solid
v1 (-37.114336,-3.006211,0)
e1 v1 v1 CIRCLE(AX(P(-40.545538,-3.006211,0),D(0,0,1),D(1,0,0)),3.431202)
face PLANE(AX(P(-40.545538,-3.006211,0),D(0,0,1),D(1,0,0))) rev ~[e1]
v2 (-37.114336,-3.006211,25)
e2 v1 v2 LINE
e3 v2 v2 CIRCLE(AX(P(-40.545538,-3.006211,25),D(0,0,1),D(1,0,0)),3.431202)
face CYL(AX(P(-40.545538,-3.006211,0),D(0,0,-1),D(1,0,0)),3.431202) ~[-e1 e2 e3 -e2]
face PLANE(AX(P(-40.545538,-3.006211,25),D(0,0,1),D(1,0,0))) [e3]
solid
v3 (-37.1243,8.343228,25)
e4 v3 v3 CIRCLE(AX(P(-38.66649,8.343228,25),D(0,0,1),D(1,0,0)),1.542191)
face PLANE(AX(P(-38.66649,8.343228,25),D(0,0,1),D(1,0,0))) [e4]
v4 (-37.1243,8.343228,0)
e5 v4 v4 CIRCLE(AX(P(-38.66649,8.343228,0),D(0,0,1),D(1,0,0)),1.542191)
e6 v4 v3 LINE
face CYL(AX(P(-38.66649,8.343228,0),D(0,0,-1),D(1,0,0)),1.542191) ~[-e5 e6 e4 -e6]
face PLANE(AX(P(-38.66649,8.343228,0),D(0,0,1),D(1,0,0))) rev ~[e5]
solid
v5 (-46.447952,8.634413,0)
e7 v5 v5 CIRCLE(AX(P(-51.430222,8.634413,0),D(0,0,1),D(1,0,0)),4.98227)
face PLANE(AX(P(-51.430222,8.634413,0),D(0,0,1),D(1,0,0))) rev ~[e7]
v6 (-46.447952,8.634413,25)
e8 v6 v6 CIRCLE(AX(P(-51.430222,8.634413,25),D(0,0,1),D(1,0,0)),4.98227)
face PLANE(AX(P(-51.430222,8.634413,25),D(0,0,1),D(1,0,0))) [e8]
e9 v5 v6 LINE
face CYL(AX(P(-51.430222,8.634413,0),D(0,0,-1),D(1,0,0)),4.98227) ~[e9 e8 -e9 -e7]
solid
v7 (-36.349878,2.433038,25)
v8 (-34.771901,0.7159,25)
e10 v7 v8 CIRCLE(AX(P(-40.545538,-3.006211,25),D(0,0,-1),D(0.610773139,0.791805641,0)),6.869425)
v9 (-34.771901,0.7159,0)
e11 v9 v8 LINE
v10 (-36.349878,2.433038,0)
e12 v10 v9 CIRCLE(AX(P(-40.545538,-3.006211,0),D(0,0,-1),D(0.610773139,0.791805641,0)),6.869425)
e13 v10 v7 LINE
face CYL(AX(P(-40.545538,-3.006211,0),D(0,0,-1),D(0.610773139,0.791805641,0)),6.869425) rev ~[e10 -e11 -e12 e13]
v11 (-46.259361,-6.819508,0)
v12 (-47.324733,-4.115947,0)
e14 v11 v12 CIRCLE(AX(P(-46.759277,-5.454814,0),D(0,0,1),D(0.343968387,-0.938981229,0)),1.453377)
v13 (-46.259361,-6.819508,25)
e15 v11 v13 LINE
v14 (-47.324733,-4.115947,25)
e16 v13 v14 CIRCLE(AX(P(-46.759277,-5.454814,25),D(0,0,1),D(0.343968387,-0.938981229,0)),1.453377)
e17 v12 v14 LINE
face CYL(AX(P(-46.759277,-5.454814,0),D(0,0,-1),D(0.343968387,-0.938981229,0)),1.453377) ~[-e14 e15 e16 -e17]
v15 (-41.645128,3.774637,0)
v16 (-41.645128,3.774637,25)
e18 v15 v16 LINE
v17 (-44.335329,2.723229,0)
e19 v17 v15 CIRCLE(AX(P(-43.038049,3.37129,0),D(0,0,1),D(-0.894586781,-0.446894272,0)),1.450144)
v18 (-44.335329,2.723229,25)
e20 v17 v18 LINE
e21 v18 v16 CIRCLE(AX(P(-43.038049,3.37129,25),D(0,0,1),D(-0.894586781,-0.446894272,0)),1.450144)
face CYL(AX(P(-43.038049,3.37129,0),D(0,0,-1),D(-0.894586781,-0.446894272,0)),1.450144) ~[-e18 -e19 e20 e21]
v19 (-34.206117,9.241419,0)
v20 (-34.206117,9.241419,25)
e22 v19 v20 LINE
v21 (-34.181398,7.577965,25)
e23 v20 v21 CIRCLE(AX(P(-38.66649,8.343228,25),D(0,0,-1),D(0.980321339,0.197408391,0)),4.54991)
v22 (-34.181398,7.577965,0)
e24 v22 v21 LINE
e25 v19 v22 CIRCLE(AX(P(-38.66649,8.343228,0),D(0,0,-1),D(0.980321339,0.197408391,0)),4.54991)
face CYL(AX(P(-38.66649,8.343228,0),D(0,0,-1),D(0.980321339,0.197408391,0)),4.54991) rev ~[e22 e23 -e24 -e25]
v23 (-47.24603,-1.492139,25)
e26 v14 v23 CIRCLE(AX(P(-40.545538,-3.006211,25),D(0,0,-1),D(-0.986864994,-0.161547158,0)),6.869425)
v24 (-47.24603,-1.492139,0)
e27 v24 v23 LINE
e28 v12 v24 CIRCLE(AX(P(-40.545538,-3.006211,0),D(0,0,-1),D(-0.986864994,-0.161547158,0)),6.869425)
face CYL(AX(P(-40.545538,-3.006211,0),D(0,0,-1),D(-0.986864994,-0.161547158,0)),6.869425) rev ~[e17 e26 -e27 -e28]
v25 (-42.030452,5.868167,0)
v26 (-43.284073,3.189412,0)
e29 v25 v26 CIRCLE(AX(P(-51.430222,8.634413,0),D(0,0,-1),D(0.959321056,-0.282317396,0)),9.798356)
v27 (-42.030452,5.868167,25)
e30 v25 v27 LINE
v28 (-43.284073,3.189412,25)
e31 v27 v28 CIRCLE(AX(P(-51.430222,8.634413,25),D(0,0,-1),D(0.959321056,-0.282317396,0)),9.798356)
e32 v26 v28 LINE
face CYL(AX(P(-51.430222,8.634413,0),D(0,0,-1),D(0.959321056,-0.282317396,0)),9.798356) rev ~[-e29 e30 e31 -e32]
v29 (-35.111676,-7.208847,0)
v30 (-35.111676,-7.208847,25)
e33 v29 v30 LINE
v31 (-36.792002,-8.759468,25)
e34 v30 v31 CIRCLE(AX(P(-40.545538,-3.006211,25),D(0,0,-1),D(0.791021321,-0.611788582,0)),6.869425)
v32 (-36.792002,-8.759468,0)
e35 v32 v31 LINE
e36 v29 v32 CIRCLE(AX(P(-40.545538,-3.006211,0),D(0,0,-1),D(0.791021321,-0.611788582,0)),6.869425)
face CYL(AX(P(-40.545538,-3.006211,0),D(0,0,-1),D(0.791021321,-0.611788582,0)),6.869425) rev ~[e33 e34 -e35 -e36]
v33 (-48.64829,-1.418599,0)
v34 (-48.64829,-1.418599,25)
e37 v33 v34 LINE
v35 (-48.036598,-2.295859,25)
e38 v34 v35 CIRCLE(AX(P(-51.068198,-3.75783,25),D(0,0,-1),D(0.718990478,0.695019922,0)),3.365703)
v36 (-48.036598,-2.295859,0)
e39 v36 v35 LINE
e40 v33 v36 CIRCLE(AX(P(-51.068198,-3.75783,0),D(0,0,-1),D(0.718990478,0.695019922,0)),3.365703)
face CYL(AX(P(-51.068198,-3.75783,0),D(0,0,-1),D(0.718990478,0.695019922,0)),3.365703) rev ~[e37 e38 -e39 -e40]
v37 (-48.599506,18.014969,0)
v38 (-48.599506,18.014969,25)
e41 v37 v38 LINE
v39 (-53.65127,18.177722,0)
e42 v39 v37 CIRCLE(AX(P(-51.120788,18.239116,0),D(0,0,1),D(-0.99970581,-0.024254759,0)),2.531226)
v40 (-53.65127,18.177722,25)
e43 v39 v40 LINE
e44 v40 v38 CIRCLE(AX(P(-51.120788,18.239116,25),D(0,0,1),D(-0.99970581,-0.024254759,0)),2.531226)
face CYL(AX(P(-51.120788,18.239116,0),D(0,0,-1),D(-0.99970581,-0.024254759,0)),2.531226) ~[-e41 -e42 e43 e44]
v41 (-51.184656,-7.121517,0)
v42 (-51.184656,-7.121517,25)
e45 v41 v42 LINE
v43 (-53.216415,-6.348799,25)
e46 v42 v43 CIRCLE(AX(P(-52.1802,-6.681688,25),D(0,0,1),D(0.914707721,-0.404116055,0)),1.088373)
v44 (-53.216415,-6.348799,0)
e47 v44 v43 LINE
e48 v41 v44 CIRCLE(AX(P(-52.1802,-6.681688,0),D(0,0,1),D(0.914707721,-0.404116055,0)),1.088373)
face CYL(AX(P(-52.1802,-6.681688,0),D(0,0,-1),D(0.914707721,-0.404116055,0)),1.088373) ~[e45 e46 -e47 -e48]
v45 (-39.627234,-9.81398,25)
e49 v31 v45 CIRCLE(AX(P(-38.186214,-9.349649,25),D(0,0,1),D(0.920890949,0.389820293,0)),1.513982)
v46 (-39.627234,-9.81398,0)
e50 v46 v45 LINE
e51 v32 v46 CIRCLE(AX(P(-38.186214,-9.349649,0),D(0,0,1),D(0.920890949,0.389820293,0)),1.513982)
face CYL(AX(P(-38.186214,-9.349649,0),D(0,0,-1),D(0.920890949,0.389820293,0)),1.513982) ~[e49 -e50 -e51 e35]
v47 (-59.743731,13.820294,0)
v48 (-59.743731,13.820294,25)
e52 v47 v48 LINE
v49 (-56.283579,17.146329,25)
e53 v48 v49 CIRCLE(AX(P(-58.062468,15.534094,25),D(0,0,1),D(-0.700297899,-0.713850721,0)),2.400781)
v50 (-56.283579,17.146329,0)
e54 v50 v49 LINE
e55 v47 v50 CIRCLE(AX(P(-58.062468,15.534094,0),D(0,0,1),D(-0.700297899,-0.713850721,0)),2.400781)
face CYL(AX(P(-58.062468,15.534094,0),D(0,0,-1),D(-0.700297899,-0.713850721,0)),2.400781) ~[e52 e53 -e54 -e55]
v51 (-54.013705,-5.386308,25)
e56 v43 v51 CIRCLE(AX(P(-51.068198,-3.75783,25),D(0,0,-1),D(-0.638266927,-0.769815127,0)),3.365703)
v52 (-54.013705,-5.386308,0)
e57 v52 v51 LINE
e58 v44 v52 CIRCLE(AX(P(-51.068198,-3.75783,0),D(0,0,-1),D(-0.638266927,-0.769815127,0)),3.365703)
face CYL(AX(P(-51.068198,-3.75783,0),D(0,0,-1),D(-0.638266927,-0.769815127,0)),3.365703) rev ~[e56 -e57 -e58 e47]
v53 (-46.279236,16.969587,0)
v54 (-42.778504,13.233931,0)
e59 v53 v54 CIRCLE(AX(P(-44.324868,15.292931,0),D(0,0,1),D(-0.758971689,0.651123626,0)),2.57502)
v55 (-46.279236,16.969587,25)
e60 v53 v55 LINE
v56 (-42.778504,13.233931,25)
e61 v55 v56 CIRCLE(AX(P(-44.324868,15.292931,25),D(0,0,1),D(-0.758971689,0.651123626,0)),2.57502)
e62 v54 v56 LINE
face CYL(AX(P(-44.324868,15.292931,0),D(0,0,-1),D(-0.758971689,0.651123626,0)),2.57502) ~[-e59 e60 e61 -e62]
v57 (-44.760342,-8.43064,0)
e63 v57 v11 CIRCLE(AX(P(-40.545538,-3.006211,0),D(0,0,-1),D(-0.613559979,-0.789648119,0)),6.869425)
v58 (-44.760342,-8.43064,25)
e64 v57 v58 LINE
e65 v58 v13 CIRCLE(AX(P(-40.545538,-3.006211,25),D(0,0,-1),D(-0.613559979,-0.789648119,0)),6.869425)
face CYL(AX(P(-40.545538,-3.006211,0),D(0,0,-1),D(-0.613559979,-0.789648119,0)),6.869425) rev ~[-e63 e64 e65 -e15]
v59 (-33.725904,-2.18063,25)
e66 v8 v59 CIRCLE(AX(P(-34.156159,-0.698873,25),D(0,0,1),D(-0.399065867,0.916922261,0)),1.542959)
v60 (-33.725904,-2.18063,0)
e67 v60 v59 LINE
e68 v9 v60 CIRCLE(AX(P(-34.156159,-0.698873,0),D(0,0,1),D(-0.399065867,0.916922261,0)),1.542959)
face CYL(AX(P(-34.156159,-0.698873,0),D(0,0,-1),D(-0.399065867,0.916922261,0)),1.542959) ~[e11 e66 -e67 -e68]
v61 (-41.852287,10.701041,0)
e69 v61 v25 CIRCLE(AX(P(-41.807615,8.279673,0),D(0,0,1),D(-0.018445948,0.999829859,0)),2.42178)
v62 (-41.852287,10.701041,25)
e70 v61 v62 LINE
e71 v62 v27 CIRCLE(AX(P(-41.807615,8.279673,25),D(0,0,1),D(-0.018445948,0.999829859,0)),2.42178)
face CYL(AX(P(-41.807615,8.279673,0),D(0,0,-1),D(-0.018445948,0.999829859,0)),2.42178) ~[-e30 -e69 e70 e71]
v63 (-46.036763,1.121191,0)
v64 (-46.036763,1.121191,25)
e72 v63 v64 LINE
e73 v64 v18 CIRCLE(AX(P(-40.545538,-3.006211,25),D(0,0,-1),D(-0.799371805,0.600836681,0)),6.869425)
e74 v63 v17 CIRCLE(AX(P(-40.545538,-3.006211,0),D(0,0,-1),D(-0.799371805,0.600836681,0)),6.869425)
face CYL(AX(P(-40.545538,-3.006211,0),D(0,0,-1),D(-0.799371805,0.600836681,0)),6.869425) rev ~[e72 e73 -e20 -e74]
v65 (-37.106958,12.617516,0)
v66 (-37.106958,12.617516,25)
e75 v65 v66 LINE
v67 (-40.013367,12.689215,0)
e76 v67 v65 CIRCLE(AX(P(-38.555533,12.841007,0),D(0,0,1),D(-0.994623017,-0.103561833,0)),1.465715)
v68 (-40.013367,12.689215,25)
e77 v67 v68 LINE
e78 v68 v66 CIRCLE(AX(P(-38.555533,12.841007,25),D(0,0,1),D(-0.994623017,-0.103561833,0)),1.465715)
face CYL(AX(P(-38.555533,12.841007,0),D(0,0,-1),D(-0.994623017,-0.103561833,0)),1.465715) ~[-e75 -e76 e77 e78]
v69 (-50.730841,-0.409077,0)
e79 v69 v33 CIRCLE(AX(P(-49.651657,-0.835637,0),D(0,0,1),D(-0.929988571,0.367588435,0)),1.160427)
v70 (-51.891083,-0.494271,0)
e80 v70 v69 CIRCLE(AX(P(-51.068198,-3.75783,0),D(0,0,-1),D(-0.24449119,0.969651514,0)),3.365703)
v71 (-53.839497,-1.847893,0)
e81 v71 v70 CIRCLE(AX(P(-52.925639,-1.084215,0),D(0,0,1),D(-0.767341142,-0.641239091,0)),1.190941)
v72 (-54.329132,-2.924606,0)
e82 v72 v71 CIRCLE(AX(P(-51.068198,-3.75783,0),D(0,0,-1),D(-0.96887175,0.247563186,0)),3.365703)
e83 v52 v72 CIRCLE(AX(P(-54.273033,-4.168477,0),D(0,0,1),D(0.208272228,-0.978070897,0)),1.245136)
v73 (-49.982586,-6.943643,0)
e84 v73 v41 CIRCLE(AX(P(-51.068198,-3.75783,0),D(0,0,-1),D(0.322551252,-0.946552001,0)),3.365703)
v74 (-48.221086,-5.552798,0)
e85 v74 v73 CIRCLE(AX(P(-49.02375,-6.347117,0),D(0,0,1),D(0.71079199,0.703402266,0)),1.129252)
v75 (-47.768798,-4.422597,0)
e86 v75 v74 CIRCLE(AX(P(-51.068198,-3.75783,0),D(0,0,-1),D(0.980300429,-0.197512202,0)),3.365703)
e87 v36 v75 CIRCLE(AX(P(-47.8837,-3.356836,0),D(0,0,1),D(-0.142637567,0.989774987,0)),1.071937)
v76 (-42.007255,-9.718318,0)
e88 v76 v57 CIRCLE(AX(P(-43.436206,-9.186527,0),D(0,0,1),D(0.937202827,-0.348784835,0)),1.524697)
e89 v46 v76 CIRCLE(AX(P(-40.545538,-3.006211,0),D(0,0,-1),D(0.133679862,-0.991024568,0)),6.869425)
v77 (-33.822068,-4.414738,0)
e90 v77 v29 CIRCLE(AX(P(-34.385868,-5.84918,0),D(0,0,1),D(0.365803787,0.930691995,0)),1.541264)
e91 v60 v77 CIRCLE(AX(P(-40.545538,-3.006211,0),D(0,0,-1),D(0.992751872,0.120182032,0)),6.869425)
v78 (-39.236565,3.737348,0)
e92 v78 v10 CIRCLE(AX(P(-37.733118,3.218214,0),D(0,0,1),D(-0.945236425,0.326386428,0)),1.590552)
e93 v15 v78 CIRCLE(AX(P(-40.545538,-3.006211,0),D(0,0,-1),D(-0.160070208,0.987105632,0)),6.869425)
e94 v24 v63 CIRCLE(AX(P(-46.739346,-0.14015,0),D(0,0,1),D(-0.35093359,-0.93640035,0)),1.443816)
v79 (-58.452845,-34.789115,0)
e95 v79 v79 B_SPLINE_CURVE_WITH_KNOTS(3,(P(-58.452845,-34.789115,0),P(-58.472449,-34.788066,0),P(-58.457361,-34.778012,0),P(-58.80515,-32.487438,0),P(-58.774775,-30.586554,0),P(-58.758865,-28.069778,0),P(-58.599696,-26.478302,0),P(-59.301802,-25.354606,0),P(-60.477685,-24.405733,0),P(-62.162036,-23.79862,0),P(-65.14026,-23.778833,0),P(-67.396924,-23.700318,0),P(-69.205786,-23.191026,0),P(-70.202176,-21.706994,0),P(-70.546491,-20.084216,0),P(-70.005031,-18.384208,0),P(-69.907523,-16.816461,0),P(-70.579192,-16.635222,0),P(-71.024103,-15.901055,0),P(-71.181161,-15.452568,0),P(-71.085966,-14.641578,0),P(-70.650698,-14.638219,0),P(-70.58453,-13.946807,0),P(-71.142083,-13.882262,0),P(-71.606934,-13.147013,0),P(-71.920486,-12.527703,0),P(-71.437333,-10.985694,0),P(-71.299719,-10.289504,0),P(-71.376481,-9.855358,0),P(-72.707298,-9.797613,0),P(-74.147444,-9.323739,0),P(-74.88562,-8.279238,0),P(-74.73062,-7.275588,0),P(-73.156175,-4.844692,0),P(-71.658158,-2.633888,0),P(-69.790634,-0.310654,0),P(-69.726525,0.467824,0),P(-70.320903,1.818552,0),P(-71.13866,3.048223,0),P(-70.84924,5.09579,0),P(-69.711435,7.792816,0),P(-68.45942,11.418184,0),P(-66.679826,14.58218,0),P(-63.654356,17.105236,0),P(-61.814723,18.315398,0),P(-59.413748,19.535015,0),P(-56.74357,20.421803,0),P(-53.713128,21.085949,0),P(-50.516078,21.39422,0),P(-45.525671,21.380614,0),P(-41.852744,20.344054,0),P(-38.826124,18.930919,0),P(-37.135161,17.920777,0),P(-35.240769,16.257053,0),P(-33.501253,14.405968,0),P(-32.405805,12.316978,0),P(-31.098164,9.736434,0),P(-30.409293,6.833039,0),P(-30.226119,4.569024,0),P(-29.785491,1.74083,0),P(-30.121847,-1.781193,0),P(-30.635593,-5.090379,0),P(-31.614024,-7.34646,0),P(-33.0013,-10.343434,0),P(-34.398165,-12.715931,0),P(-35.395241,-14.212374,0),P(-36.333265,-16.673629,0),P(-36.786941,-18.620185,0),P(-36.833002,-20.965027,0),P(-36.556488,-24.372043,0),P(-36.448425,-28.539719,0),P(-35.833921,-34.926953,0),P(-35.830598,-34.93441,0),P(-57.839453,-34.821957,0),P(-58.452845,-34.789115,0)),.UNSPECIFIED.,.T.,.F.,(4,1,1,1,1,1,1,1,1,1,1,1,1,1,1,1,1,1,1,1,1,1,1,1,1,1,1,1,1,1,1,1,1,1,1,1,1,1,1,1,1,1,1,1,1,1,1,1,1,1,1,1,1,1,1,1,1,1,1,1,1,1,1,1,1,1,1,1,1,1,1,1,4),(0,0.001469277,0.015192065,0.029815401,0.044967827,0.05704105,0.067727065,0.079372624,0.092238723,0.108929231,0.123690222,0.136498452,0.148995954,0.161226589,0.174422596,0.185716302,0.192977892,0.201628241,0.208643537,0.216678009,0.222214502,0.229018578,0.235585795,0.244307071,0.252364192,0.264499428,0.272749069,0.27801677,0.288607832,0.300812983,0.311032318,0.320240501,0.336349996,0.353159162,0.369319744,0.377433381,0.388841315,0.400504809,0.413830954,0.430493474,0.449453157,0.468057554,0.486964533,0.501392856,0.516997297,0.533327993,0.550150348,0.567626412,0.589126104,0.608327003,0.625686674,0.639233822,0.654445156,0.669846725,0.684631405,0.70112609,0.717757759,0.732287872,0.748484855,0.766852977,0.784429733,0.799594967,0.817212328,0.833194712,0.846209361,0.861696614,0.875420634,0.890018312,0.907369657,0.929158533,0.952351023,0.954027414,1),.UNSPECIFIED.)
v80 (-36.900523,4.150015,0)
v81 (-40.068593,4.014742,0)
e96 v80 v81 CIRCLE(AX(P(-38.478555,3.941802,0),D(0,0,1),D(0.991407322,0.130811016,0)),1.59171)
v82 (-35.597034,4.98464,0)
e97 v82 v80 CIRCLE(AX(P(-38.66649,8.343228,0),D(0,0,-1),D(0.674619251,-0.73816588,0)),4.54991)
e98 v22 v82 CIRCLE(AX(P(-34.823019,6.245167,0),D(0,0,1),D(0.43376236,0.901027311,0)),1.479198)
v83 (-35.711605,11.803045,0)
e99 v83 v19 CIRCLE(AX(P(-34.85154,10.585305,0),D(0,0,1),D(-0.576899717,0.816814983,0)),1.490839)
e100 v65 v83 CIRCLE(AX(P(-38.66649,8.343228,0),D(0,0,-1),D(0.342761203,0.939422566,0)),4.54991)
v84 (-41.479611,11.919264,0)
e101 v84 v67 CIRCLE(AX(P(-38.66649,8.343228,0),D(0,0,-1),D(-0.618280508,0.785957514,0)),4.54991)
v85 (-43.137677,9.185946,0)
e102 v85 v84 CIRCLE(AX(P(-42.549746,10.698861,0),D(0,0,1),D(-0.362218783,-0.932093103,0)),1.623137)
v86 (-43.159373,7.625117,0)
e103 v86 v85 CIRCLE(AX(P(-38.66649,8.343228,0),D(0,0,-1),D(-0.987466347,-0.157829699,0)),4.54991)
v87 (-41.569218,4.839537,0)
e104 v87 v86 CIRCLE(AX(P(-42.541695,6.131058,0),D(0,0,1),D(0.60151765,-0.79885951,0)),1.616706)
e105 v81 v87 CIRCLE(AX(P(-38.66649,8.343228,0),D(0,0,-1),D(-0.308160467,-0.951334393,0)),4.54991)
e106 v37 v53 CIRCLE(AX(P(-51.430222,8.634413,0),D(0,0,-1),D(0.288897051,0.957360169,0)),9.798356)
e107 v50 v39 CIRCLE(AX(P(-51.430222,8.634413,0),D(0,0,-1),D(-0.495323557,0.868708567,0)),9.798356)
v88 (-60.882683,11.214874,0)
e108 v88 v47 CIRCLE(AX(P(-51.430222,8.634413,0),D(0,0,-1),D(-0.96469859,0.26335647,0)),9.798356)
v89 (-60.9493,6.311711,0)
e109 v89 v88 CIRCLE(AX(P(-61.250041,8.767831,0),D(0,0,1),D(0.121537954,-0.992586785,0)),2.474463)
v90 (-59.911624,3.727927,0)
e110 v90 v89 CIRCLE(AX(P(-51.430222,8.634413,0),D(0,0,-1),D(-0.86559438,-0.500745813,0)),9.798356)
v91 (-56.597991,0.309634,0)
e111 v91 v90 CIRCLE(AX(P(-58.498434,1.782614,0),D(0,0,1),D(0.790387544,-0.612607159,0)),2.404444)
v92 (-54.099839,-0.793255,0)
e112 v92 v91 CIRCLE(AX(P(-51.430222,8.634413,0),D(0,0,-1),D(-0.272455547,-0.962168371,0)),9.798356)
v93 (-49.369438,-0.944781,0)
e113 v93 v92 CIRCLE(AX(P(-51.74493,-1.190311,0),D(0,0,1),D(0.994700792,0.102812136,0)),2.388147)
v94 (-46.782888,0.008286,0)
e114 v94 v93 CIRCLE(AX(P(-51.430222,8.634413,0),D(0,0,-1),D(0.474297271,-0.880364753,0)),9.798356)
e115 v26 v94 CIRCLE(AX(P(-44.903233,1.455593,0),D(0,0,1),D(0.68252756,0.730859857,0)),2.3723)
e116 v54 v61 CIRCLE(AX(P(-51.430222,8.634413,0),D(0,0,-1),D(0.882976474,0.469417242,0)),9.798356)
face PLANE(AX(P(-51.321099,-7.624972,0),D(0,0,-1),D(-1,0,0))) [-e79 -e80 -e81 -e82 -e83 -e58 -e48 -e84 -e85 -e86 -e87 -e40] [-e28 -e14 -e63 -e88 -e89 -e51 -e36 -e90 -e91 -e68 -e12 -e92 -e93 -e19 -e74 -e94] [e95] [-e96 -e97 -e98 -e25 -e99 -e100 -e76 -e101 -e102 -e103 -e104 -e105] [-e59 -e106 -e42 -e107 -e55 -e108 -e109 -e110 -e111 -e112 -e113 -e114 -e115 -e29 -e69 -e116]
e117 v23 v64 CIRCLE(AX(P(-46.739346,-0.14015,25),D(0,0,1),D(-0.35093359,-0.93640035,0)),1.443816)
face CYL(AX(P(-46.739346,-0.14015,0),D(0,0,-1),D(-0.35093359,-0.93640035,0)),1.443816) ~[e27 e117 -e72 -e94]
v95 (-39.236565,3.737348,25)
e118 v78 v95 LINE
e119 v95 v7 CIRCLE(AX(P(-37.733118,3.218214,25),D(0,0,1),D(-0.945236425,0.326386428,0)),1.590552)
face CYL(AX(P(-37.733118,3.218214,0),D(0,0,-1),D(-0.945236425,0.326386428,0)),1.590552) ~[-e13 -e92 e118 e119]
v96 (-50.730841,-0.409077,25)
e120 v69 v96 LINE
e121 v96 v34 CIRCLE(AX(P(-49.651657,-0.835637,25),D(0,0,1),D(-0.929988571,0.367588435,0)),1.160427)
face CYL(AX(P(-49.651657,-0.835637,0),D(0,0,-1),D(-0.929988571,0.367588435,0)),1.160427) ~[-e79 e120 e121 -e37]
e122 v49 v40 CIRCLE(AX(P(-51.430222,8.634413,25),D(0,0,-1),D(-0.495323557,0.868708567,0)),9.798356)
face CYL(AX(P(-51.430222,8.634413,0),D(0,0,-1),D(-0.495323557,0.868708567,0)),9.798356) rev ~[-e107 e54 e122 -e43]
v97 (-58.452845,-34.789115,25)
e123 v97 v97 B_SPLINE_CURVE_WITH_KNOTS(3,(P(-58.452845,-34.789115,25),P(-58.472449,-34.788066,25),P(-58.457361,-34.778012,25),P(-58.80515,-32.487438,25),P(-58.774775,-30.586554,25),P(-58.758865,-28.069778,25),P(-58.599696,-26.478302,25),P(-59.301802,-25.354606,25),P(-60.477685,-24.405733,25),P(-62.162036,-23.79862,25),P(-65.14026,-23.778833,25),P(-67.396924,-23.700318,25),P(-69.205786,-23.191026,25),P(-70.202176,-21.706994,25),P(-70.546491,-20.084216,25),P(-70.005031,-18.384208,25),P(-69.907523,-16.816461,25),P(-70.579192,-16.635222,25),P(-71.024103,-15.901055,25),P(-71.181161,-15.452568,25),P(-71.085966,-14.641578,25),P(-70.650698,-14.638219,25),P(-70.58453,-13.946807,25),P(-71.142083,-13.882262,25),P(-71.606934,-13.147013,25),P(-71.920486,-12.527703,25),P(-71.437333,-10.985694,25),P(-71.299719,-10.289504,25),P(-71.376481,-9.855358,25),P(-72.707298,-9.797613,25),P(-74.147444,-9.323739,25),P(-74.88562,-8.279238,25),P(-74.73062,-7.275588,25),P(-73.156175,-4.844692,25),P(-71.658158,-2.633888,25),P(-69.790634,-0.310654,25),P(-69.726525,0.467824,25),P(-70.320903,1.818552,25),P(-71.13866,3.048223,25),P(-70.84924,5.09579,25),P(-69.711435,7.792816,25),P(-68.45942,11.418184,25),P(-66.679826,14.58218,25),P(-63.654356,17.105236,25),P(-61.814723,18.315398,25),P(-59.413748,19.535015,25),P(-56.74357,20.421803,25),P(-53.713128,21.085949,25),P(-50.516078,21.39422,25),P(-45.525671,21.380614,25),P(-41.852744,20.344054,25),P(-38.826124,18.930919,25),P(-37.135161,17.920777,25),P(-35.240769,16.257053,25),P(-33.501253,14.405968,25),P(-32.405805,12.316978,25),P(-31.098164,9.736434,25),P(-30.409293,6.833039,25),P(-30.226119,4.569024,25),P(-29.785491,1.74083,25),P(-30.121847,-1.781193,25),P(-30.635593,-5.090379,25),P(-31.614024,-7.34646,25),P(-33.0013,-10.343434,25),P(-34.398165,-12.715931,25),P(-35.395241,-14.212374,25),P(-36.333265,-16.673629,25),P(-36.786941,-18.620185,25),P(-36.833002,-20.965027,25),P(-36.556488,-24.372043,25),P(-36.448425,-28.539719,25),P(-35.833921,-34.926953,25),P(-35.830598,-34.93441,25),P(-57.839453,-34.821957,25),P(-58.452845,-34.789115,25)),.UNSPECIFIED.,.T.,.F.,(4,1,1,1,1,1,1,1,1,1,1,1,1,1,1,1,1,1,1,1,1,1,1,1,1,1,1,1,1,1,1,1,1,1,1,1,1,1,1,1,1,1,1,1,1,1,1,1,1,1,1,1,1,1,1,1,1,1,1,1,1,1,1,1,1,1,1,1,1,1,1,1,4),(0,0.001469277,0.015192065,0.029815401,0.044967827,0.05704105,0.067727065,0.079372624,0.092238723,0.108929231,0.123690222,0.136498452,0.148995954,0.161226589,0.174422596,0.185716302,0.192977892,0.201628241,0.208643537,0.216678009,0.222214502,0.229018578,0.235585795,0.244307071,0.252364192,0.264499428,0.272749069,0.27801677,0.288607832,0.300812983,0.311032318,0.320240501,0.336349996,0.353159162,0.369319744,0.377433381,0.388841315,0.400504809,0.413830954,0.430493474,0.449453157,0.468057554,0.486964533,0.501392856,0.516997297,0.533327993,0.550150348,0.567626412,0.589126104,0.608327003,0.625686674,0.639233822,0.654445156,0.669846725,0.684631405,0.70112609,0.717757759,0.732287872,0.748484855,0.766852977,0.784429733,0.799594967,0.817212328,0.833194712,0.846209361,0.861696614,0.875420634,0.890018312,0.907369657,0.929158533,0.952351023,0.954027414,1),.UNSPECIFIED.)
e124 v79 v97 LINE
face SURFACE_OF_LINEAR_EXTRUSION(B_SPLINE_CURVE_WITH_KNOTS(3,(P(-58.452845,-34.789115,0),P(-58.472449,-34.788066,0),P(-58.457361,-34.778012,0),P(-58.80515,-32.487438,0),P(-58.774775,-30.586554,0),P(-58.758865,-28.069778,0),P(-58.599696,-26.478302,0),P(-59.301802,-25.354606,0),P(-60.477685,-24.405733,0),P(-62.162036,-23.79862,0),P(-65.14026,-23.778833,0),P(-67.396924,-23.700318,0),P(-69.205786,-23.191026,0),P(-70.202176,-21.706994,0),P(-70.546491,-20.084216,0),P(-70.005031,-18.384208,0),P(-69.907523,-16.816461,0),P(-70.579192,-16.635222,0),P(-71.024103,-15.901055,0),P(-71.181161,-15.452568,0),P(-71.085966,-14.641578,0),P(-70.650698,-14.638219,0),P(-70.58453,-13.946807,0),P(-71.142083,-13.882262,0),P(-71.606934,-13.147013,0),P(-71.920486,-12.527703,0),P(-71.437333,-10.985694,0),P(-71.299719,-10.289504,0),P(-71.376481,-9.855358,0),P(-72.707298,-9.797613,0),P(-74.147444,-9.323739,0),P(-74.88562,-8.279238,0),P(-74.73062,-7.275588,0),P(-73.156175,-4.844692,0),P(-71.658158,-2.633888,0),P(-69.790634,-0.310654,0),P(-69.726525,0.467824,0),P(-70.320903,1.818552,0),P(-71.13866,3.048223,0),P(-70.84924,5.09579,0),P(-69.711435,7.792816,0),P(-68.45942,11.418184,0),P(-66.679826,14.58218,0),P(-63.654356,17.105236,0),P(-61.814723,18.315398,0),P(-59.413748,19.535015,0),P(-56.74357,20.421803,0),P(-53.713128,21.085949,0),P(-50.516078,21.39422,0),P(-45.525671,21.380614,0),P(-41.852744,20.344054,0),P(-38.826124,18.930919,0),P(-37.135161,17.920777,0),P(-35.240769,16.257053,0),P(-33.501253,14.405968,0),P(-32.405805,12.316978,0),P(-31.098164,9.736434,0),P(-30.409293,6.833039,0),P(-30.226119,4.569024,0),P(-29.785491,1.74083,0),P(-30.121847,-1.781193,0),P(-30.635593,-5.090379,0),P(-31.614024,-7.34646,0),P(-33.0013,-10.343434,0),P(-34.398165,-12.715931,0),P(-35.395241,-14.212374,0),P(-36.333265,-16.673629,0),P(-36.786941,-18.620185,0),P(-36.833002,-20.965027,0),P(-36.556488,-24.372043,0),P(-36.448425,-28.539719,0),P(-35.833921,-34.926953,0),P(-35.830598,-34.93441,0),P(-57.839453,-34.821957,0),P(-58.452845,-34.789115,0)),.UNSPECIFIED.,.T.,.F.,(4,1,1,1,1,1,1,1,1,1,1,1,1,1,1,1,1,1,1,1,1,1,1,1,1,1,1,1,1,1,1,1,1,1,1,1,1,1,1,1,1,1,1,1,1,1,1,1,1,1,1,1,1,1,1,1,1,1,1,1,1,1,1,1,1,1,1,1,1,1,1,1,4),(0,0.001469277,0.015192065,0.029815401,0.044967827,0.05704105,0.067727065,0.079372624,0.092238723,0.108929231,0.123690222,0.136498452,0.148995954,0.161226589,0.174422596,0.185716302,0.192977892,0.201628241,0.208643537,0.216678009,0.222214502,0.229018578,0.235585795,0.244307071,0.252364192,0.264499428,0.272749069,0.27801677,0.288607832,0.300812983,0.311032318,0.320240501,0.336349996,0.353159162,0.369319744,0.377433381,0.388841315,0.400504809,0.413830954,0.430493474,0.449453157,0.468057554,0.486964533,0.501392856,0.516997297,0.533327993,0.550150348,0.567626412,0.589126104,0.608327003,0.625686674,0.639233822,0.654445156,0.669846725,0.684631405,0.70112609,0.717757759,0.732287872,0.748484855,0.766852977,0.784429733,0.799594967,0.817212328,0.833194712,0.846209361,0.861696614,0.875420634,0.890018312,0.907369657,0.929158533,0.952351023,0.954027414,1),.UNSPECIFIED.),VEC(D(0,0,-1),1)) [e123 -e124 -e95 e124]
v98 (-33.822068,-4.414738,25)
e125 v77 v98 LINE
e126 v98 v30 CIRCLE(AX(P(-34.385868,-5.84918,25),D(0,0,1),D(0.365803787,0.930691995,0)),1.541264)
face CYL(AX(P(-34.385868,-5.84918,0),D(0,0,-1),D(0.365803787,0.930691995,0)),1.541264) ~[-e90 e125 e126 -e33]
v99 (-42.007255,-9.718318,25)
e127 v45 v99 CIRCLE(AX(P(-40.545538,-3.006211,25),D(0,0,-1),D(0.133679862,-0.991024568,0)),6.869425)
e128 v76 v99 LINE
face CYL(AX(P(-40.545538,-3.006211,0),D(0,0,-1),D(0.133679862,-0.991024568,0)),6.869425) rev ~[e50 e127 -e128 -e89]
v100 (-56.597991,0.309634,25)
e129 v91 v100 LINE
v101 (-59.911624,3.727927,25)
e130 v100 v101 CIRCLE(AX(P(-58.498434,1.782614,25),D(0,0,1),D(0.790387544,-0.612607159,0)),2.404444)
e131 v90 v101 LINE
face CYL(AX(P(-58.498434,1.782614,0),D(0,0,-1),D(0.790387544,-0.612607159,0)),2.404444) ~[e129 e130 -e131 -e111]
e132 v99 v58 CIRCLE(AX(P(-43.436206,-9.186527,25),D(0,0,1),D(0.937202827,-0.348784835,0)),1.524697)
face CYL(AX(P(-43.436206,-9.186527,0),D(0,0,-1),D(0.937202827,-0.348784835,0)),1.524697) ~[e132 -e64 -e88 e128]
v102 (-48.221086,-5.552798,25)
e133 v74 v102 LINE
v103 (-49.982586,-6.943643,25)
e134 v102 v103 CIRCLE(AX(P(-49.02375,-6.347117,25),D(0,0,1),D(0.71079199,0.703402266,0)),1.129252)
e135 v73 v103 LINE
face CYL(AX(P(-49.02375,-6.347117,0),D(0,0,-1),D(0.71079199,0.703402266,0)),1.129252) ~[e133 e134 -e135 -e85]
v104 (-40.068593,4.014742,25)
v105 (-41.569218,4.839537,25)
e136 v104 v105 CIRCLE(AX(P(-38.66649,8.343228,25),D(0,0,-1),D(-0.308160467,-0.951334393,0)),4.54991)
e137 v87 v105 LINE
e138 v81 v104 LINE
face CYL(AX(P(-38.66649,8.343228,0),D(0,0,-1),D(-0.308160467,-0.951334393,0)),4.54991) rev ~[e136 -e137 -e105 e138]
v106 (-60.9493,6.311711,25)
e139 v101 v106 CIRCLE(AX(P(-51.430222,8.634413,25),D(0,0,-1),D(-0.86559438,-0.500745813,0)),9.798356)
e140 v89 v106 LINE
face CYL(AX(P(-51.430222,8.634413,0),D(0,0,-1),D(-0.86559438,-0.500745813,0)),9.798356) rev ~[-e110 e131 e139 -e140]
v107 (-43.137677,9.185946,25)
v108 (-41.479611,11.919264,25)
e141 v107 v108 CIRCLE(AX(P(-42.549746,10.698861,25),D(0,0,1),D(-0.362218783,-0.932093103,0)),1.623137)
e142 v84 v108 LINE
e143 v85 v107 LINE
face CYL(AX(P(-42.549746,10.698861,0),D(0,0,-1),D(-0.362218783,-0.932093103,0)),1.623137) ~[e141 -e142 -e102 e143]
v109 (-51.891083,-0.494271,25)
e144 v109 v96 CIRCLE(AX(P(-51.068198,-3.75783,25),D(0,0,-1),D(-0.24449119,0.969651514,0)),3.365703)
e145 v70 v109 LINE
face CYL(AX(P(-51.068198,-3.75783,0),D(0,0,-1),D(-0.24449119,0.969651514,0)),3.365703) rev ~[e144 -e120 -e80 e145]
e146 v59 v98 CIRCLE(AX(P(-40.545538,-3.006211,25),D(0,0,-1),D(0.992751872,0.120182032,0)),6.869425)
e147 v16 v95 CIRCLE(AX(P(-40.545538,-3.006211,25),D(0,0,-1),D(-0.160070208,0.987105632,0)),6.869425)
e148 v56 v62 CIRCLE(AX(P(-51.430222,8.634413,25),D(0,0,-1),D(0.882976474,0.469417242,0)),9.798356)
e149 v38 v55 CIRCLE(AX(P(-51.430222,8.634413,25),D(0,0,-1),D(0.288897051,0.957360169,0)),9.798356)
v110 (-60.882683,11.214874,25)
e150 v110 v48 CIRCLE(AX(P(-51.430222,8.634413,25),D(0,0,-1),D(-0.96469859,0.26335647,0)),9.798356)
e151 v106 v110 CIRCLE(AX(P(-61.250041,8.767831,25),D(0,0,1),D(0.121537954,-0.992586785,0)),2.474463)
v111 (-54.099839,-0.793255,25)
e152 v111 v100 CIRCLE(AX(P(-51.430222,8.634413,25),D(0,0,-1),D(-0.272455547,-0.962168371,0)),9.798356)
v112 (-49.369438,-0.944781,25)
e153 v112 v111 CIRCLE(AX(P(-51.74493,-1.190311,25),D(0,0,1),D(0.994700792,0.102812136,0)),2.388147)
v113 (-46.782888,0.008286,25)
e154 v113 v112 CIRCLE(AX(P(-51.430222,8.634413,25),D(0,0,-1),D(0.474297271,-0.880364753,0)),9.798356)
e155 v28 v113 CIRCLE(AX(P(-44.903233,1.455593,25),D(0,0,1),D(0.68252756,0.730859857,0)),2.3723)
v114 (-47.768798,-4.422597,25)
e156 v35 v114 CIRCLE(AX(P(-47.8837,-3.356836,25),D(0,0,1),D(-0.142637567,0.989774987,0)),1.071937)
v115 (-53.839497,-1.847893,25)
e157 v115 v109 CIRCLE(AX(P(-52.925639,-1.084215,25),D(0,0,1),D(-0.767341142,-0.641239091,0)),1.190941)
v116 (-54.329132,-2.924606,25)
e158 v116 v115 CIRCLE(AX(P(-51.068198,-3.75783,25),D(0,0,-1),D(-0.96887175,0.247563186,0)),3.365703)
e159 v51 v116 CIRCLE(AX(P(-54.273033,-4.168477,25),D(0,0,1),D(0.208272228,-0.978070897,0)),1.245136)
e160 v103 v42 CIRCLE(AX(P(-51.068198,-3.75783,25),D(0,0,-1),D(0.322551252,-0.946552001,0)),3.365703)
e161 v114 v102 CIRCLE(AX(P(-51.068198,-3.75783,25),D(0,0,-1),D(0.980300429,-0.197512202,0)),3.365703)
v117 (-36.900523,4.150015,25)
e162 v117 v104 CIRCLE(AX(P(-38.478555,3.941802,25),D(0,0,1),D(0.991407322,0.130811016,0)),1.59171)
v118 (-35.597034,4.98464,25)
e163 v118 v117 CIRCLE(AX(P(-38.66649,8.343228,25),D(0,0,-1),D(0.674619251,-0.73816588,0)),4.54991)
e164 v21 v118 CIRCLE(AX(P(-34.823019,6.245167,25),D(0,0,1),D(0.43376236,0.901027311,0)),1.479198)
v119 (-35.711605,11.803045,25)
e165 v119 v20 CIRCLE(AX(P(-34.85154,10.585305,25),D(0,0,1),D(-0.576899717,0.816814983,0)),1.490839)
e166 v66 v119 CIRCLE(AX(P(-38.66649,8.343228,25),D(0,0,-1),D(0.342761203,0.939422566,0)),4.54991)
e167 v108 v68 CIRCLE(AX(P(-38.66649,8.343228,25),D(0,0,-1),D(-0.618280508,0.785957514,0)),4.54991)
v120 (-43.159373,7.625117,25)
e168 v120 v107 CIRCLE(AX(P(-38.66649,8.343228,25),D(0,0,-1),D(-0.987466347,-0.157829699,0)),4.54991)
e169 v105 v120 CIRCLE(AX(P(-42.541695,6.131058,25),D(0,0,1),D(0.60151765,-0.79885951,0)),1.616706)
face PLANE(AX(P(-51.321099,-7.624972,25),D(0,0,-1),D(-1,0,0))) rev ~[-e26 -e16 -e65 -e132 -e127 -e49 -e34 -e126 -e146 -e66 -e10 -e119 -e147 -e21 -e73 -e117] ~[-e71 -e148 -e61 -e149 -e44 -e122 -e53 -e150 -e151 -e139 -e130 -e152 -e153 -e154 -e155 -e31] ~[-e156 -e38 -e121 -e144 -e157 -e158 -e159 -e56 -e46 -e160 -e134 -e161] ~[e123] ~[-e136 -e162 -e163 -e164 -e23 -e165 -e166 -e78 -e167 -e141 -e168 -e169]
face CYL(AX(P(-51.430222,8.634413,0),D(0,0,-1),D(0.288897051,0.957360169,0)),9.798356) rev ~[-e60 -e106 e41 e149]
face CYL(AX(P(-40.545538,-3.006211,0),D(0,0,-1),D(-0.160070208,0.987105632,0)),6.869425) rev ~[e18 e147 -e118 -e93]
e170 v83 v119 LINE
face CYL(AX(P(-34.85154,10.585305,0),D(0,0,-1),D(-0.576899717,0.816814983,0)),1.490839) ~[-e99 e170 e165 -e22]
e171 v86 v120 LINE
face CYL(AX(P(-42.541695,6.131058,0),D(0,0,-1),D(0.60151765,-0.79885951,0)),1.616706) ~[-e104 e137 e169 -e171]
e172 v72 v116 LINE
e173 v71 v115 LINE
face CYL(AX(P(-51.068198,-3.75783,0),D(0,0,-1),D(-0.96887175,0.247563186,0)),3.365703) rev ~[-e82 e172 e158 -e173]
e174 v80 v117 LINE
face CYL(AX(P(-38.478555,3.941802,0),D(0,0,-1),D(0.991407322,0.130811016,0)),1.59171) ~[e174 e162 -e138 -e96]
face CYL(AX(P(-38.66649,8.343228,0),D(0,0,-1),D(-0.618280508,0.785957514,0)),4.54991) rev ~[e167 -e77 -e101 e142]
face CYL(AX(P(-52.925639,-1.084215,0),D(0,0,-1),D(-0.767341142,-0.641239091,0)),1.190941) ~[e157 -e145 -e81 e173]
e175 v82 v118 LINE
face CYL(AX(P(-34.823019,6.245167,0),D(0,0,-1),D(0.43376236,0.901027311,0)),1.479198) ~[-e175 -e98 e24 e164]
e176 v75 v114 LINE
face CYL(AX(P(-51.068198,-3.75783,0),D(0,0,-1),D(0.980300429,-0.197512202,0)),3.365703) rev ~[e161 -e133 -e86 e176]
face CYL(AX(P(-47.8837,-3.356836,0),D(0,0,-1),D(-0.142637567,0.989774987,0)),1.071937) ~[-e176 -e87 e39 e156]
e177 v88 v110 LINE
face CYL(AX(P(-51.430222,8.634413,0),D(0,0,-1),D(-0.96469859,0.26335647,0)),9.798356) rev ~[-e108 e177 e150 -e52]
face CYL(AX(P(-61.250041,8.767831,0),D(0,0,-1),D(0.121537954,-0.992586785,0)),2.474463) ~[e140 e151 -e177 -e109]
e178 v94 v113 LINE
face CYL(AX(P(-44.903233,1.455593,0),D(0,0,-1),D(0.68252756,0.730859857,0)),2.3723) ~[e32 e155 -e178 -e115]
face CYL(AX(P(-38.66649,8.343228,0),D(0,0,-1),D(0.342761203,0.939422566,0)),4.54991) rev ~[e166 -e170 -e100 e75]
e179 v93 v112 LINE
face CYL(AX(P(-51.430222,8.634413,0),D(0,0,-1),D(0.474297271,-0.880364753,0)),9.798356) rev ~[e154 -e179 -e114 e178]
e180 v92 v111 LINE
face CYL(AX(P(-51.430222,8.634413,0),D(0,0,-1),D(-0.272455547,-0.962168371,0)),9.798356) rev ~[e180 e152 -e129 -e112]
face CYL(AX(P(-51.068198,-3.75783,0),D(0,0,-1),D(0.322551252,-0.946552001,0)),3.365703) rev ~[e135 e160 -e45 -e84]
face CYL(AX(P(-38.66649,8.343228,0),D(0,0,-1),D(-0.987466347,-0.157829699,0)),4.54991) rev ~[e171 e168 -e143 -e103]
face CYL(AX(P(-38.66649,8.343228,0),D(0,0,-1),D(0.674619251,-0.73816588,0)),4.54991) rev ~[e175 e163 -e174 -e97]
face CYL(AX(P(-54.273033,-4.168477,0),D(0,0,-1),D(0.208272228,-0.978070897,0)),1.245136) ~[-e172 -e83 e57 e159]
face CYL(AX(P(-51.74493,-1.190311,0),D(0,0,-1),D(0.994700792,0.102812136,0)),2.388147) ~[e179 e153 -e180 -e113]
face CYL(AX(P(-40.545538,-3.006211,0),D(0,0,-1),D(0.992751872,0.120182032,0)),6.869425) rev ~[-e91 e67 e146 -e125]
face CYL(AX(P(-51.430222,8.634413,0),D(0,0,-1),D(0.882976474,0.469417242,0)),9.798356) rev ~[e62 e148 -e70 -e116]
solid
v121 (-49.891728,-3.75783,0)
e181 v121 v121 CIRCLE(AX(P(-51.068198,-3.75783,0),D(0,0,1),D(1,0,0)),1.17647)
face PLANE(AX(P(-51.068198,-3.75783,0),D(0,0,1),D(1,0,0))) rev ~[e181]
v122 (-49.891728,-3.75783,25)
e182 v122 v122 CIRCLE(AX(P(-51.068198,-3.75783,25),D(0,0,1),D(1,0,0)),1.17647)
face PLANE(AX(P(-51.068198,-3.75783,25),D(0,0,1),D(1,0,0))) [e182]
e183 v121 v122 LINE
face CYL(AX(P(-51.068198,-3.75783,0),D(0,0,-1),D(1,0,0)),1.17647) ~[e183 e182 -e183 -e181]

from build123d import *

# Parameters (mm, degrees)
F1_DEPTH = 25
F0_R     = 4.9822703432
F0_R_2   = 1.5421907885
F0_R_3   = 3.4312023904
F0_R_4   = 1.1764695549


with BuildPart() as f1:
    # F0 (on Top) → F1 (new body)
    with BuildSketch(Plane.XY):
        with BuildLine():
            add(Edge.make_bspline(
                [(-58.4528446198, -34.7891151905), (-58.4724485185, -34.7880655616), (-58.4573605476, -34.7780116039), (-58.8051495951, -32.4874378122), (-58.7747751732, -30.5865544594), (-58.7588649014, -28.0697784435), (-58.5996964499, -26.4783016924), (-59.3018016456, -25.3546062061), (-60.4776848617, -24.4057331653), (-62.1620357874, -23.7986198857), (-65.1402600381, -23.7788334842), (-67.3969244899, -23.7003180296), (-69.2057863133, -23.1910262942), (-70.2021762292, -21.7069935715), (-70.5464910028, -20.0842159624), (-70.0050308997, -18.384207913), (-69.9075229287, -16.816461228), (-70.5791916176, -16.635221695), (-71.02410348, -15.901054519), (-71.1811606557, -15.4525680813), (-71.0859655754, -14.6415775828), (-70.6506981177, -14.6382194292), (-70.5845303364, -13.9468068595), (-71.1420825283, -13.8822623961), (-71.6069337821, -13.1470133021), (-71.9204858048, -12.5277028436), (-71.4373332369, -10.9856938026), (-71.2997192572, -10.2895044095), (-71.3764808513, -9.8553579623), (-72.7072977691, -9.7976131197), (-74.1474444644, -9.323739365), (-74.8856202814, -8.27923824), (-74.7306200972, -7.275588005), (-73.156175271, -4.8446915936), (-71.6581583419, -2.633887522), (-69.7906344313, -0.3106540713), (-69.7265246845, 0.4678236211), (-70.3209032816, 1.8185518768), (-71.138660083, 3.0482232864), (-70.8492401698, 5.0957904013), (-69.711435306, 7.7928162368), (-68.4594197638, 11.4181836492), (-66.6798255337, 14.5821801539), (-63.6543562391, 17.1052361336), (-61.8147226425, 18.315397678), (-59.4137480211, 19.5350148131), (-56.7435703478, 20.4218034553), (-53.7131275189, 21.0859487546), (-50.5160775286, 21.394220042), (-45.5256707737, 21.3806143507), (-41.8527441548, 20.3440536852), (-38.8261240197, 18.9309193548), (-37.1351607285, 17.9207774755), (-35.2407689708, 16.2570532817), (-33.5012526169, 14.4059683433), (-32.405805211, 12.3169782977), (-31.0981635958, 9.7364335678), (-30.4092926116, 6.8330387167), (-30.2261193243, 4.5690242511), (-29.7854906371, 1.7408304049), (-30.1218466835, -1.7811931161), (-30.6355928227, -5.0903787938), (-31.6140241577, -7.3464601022), (-33.0012998159, -10.3434339974), (-34.3981645402, -12.7159305829), (-35.3952407159, -14.2123737182), (-36.3332654927, -16.6736293108), (-36.7869407987, -18.6201846576), (-36.8330024706, -20.9650272617), (-36.5564877794, -24.3720433427), (-36.4484249756, -28.5397187609), (-35.833920513, -34.9269525231), (-35.830597949, -34.9344100472), (-57.8394533112, -34.8219572929), (-58.4528446198, -34.7891151905)],
                knots=[0, 0, 0, 0, 0.0014692773, 0.0151920649, 0.0298154009, 0.0449678272, 0.0570410496, 0.0677270653, 0.0793726241, 0.0922387226, 0.1089292305, 0.1236902216, 0.1364984521, 0.148995954, 0.1612265891, 0.1744225965, 0.1857163019, 0.1929778916, 0.2016282415, 0.2086435371, 0.2166780092, 0.2222145022, 0.2290185777, 0.235585795, 0.2443070709, 0.2523641922, 0.2644994278, 0.2727490686, 0.27801677, 0.2886078319, 0.3008129828, 0.3110323184, 0.3202405005, 0.336349996, 0.3531591619, 0.3693197445, 0.3774333805, 0.3888413151, 0.4005048088, 0.4138309541, 0.4304934738, 0.4494531571, 0.4680575544, 0.4869645326, 0.5013928561, 0.5169972966, 0.5333279931, 0.5501503478, 0.5676264115, 0.589126104, 0.6083270031, 0.6256866743, 0.6392338216, 0.6544451555, 0.6698467254, 0.6846314053, 0.7011260899, 0.7177577591, 0.7322878723, 0.7484848551, 0.7668529767, 0.7844297326, 0.7995949669, 0.8172123277, 0.8331947118, 0.8462093612, 0.8616966137, 0.8754206345, 0.8900183118, 0.9073696569, 0.9291585335, 0.952351023, 0.954027414, 1, 1, 1, 1], degree=3))
        make_face()
        with BuildLine():
            ThreePointArc((-51.891082632, -0.4942709173), (-51.31467062, -0.4011637422), (-50.7308409053, -0.4090768916))
            ThreePointArc((-50.7308409053, -0.4090768916), (-50.1578395251, -1.879844557), (-48.6482896345, -1.4185992479))
            ThreePointArc((-48.6482896345, -1.4185992479), (-48.3073772258, -1.8327779171), (-48.036598234, -2.2958588797))
            ThreePointArc((-48.036598234, -2.2958588797), (-48.9472385294, -3.4907572148), (-47.7687979918, -4.4225971573))
            ThreePointArc((-47.7687979918, -4.4225971573), (-47.9434195621, -5.0083159931), (-48.2210861913, -5.5527978483))
            ThreePointArc((-48.2210861913, -5.5527978483), (-49.7235423557, -5.4608315), (-49.9825862688, -6.943642542))
            ThreePointArc((-49.9825862688, -6.943642542), (-50.5755273363, -7.0872788825), (-51.1846564238, -7.121517201))
            ThreePointArc((-51.1846564238, -7.121517201), (-51.7933058748, -5.664402705), (-53.2164147506, -6.3487987427))
            ThreePointArc((-53.2164147506, -6.3487987427), (-53.6601285253, -5.9048862464), (-54.0137054975, -5.3863078599))
            ThreePointArc((-54.0137054975, -5.3863078599), (-53.0379943018, -4.0102269437), (-54.3291323455, -2.9246056573))
            ThreePointArc((-54.3291323455, -2.9246056573), (-54.1319843009, -2.3645714498), (-53.839496719, -1.8478929428))
            ThreePointArc((-53.839496719, -1.8478929428), (-52.246142471, -2.0622872388), (-51.891082632, -0.4942709173))
        make_face(mode=Mode.SUBTRACT)
        with BuildLine():
            ThreePointArc((-46.0367627578, 1.1211912911), (-45.2546721345, 1.9950942472), (-44.3353289383, 2.7232289926))
            ThreePointArc((-44.3353289383, 2.7232289926), (-42.5101748497, 2.0206360911), (-41.6451283631, 3.7746368916))
            ThreePointArc((-41.6451283631, 3.7746368916), (-40.4391996328, 3.8623906801), (-39.236565379, 3.7373479613))
            ThreePointArc((-39.236565379, 3.7373479613), (-38.3880367514, 1.7687530242), (-36.3498777771, 2.4330382441))
            ThreePointArc((-36.3498777771, 2.4330382441), (-35.4874887005, 1.6419213784), (-34.7719009404, 0.7159003352))
            ThreePointArc((-34.7719009404, 0.7159003352), (-35.6073902432, -1.2229430831), (-33.7259035044, -2.1806297894))
            ThreePointArc((-33.7259035044, -2.1806297894), (-33.682467895, -3.301623044), (-33.8220677333, -4.4147377794))
            ThreePointArc((-33.8220677333, -4.4147377794), (-35.7852688946, -5.2032922427), (-35.1116763986, -7.2088470513))
            ThreePointArc((-35.1116763986, -7.2088470513), (-35.8868712737, -8.0545598928), (-36.7920019027, -8.7594682904))
            ThreePointArc((-36.7920019027, -8.7594682904), (-38.7139894521, -7.9306371819), (-39.6272342795, -9.8139802286))
            ThreePointArc((-39.6272342795, -9.8139802286), (-40.8214227066, -9.8700941147), (-42.0072552898, -9.718318451))
            ThreePointArc((-42.0072552898, -9.718318451), (-42.7902373609, -7.8054308433), (-44.760342352, -8.4306398063))
            ThreePointArc((-44.760342352, -8.4306398063), (-45.5747870582, -7.6854905653), (-46.2593608266, -6.819507698))
            ThreePointArc((-46.2593608266, -6.819507698), (-45.4070992512, -4.9219712515), (-47.3247331623, -4.1159473426))
            ThreePointArc((-47.3247331623, -4.1159473426), (-47.411874784, -2.8002490538), (-47.2460295859, -1.4921393415))
            ThreePointArc((-47.2460295859, -1.4921393415), (-45.4290146729, -0.746479476), (-46.0367627578, 1.1211912911))
        make_face(mode=Mode.SUBTRACT)
        with BuildLine():
            ThreePointArc((-54.0998385248, -0.7932554637), (-55.3875247852, -0.3292659208), (-56.5979912797, 0.3096339673))
            ThreePointArc((-56.5979912797, 0.3096339673), (-56.7720110969, 3.4561774033), (-59.9116242146, 3.7279272201))
            ThreePointArc((-59.9116242146, 3.7279272201), (-60.5227082759, 4.98277228), (-60.9492999347, 6.3117114852))
            ThreePointArc((-60.9492999347, 6.3117114852), (-58.7758060597, 8.7342147479), (-60.8826825883, 11.2148737282))
            ThreePointArc((-60.8826825883, 11.2148737282), (-60.4082211645, 12.5591193884), (-59.7437305507, 13.8202943414))
            ThreePointArc((-59.7437305507, 13.8202943414), (-56.398734619, 13.8032728488), (-56.2835787217, 17.1463293296))
            ThreePointArc((-56.2835787217, 17.1463293296), (-55.0048188358, 17.7574634122), (-53.6512698654, 18.1777215443))
            ThreePointArc((-53.6512698654, 18.1777215443), (-51.2022941549, 15.7092020572), (-48.5995056934, 18.0149693294))
            ThreePointArc((-48.5995056934, 18.0149693294), (-47.4052871579, 17.5679280583), (-46.279235585, 16.9695872992))
            ThreePointArc((-46.279235585, 16.9695872992), (-46.2038041418, 13.5321563814), (-42.7785037738, 13.2339306181))
            ThreePointArc((-42.7785037738, 13.2339306181), (-42.2278339272, 11.9995049681), (-41.8522870347, 10.7010410691))
            ThreePointArc((-41.8522870347, 10.7010410691), (-44.2277511509, 8.368892002), (-42.0304523457, 5.8681667074))
            ThreePointArc((-42.0304523457, 5.8681667074), (-42.5556093513, 4.4812168897), (-43.2840727545, 3.1894116615))
            ThreePointArc((-43.2840727545, 3.1894116615), (-46.4991195676, 3.2108565791), (-46.782888256, 0.0082855454))
            ThreePointArc((-46.782888256, 0.0082855454), (-48.0424799587, -0.5596606009), (-49.3694375891, -0.9447807506))
            ThreePointArc((-49.3694375891, -0.9447807506), (-51.6684713217, 1.1966119478), (-54.0998385248, -0.7932554637))
        make_face(mode=Mode.SUBTRACT)
        with BuildLine():
            ThreePointArc((-41.4796109861, 11.9192639057), (-40.7818154988, 12.3715129939), (-40.0133669592, 12.6892150901))
            ThreePointArc((-40.0133669592, 12.6892150901), (-38.5916805943, 11.3757383508), (-37.1069579191, 12.6175160453))
            ThreePointArc((-37.1069579191, 12.6175160453), (-36.3728398859, 12.2727123148), (-35.7116051541, 11.8030448488))
            ThreePointArc((-35.7116051541, 11.8030448488), (-36.1368418899, 9.8299228688), (-34.2061168336, 9.2414185049))
            ThreePointArc((-34.2061168336, 9.2414185049), (-34.1170829533, 8.4108310774), (-34.181398373, 7.5779649216))
            ThreePointArc((-34.181398373, 7.5779649216), (-36.1213699804, 6.9539064413), (-35.5970337475, 4.9846399943))
            ThreePointArc((-35.5970337475, 4.9846399943), (-36.2130271878, 4.5114926557), (-36.9005227729, 4.1500149346))
            ThreePointArc((-36.9005227729, 4.1500149346), (-38.5464573716, 5.5320623835), (-40.0685927847, 4.0147424968))
            ThreePointArc((-40.0685927847, 4.0147424968), (-40.8580562577, 4.355908457), (-41.5692176467, 4.8395366886))
            ThreePointArc((-41.5692176467, 4.8395366886), (-41.1376525488, 6.9325591169), (-43.1593732394, 7.6251172504))
            ThreePointArc((-43.1593732394, 7.6251172504), (-43.2159607058, 8.40646895), (-43.1376766328, 9.1859458411))
            ThreePointArc((-43.1376766328, 9.1859458411), (-41.1619826041, 9.8570255416), (-41.4796109861, 11.9192639057))
        make_face(mode=Mode.SUBTRACT)
    extrude(amount=F1_DEPTH)


with BuildPart() as f1b:
    # F0 (on Top) → F1, piece 2 (new body)
    with BuildSketch(Plane.XY):
        with Locations((-51.4302219682, 8.6344131716)):
            Circle(F0_R)
    extrude(amount=F1_DEPTH)


with BuildPart() as f1c:
    # F0 (on Top) → F1, piece 3 (new body)
    with BuildSketch(Plane.XY):
        with Locations((-38.6664904654, 8.343228139)):
            Circle(F0_R_2)
    extrude(amount=F1_DEPTH)


with BuildPart() as f1d:
    # F0 (on Top) → F1, piece 4 (new body)
    with BuildSketch(Plane.XY):
        with Locations((-40.5455380678, -3.0062112492)):
            Circle(F0_R_3)
    extrude(amount=F1_DEPTH)


with BuildPart() as f1e:
    # F0 (on Top) → F1, piece 5 (new body)
    with BuildSketch(Plane.XY):
        with Locations((-51.0681979358, -3.7578297779)):
            Circle(F0_R_4)
    extrude(amount=F1_DEPTH)


solid = Compound([f1.part, f1b.part, f1c.part, f1d.part, f1e.part])
